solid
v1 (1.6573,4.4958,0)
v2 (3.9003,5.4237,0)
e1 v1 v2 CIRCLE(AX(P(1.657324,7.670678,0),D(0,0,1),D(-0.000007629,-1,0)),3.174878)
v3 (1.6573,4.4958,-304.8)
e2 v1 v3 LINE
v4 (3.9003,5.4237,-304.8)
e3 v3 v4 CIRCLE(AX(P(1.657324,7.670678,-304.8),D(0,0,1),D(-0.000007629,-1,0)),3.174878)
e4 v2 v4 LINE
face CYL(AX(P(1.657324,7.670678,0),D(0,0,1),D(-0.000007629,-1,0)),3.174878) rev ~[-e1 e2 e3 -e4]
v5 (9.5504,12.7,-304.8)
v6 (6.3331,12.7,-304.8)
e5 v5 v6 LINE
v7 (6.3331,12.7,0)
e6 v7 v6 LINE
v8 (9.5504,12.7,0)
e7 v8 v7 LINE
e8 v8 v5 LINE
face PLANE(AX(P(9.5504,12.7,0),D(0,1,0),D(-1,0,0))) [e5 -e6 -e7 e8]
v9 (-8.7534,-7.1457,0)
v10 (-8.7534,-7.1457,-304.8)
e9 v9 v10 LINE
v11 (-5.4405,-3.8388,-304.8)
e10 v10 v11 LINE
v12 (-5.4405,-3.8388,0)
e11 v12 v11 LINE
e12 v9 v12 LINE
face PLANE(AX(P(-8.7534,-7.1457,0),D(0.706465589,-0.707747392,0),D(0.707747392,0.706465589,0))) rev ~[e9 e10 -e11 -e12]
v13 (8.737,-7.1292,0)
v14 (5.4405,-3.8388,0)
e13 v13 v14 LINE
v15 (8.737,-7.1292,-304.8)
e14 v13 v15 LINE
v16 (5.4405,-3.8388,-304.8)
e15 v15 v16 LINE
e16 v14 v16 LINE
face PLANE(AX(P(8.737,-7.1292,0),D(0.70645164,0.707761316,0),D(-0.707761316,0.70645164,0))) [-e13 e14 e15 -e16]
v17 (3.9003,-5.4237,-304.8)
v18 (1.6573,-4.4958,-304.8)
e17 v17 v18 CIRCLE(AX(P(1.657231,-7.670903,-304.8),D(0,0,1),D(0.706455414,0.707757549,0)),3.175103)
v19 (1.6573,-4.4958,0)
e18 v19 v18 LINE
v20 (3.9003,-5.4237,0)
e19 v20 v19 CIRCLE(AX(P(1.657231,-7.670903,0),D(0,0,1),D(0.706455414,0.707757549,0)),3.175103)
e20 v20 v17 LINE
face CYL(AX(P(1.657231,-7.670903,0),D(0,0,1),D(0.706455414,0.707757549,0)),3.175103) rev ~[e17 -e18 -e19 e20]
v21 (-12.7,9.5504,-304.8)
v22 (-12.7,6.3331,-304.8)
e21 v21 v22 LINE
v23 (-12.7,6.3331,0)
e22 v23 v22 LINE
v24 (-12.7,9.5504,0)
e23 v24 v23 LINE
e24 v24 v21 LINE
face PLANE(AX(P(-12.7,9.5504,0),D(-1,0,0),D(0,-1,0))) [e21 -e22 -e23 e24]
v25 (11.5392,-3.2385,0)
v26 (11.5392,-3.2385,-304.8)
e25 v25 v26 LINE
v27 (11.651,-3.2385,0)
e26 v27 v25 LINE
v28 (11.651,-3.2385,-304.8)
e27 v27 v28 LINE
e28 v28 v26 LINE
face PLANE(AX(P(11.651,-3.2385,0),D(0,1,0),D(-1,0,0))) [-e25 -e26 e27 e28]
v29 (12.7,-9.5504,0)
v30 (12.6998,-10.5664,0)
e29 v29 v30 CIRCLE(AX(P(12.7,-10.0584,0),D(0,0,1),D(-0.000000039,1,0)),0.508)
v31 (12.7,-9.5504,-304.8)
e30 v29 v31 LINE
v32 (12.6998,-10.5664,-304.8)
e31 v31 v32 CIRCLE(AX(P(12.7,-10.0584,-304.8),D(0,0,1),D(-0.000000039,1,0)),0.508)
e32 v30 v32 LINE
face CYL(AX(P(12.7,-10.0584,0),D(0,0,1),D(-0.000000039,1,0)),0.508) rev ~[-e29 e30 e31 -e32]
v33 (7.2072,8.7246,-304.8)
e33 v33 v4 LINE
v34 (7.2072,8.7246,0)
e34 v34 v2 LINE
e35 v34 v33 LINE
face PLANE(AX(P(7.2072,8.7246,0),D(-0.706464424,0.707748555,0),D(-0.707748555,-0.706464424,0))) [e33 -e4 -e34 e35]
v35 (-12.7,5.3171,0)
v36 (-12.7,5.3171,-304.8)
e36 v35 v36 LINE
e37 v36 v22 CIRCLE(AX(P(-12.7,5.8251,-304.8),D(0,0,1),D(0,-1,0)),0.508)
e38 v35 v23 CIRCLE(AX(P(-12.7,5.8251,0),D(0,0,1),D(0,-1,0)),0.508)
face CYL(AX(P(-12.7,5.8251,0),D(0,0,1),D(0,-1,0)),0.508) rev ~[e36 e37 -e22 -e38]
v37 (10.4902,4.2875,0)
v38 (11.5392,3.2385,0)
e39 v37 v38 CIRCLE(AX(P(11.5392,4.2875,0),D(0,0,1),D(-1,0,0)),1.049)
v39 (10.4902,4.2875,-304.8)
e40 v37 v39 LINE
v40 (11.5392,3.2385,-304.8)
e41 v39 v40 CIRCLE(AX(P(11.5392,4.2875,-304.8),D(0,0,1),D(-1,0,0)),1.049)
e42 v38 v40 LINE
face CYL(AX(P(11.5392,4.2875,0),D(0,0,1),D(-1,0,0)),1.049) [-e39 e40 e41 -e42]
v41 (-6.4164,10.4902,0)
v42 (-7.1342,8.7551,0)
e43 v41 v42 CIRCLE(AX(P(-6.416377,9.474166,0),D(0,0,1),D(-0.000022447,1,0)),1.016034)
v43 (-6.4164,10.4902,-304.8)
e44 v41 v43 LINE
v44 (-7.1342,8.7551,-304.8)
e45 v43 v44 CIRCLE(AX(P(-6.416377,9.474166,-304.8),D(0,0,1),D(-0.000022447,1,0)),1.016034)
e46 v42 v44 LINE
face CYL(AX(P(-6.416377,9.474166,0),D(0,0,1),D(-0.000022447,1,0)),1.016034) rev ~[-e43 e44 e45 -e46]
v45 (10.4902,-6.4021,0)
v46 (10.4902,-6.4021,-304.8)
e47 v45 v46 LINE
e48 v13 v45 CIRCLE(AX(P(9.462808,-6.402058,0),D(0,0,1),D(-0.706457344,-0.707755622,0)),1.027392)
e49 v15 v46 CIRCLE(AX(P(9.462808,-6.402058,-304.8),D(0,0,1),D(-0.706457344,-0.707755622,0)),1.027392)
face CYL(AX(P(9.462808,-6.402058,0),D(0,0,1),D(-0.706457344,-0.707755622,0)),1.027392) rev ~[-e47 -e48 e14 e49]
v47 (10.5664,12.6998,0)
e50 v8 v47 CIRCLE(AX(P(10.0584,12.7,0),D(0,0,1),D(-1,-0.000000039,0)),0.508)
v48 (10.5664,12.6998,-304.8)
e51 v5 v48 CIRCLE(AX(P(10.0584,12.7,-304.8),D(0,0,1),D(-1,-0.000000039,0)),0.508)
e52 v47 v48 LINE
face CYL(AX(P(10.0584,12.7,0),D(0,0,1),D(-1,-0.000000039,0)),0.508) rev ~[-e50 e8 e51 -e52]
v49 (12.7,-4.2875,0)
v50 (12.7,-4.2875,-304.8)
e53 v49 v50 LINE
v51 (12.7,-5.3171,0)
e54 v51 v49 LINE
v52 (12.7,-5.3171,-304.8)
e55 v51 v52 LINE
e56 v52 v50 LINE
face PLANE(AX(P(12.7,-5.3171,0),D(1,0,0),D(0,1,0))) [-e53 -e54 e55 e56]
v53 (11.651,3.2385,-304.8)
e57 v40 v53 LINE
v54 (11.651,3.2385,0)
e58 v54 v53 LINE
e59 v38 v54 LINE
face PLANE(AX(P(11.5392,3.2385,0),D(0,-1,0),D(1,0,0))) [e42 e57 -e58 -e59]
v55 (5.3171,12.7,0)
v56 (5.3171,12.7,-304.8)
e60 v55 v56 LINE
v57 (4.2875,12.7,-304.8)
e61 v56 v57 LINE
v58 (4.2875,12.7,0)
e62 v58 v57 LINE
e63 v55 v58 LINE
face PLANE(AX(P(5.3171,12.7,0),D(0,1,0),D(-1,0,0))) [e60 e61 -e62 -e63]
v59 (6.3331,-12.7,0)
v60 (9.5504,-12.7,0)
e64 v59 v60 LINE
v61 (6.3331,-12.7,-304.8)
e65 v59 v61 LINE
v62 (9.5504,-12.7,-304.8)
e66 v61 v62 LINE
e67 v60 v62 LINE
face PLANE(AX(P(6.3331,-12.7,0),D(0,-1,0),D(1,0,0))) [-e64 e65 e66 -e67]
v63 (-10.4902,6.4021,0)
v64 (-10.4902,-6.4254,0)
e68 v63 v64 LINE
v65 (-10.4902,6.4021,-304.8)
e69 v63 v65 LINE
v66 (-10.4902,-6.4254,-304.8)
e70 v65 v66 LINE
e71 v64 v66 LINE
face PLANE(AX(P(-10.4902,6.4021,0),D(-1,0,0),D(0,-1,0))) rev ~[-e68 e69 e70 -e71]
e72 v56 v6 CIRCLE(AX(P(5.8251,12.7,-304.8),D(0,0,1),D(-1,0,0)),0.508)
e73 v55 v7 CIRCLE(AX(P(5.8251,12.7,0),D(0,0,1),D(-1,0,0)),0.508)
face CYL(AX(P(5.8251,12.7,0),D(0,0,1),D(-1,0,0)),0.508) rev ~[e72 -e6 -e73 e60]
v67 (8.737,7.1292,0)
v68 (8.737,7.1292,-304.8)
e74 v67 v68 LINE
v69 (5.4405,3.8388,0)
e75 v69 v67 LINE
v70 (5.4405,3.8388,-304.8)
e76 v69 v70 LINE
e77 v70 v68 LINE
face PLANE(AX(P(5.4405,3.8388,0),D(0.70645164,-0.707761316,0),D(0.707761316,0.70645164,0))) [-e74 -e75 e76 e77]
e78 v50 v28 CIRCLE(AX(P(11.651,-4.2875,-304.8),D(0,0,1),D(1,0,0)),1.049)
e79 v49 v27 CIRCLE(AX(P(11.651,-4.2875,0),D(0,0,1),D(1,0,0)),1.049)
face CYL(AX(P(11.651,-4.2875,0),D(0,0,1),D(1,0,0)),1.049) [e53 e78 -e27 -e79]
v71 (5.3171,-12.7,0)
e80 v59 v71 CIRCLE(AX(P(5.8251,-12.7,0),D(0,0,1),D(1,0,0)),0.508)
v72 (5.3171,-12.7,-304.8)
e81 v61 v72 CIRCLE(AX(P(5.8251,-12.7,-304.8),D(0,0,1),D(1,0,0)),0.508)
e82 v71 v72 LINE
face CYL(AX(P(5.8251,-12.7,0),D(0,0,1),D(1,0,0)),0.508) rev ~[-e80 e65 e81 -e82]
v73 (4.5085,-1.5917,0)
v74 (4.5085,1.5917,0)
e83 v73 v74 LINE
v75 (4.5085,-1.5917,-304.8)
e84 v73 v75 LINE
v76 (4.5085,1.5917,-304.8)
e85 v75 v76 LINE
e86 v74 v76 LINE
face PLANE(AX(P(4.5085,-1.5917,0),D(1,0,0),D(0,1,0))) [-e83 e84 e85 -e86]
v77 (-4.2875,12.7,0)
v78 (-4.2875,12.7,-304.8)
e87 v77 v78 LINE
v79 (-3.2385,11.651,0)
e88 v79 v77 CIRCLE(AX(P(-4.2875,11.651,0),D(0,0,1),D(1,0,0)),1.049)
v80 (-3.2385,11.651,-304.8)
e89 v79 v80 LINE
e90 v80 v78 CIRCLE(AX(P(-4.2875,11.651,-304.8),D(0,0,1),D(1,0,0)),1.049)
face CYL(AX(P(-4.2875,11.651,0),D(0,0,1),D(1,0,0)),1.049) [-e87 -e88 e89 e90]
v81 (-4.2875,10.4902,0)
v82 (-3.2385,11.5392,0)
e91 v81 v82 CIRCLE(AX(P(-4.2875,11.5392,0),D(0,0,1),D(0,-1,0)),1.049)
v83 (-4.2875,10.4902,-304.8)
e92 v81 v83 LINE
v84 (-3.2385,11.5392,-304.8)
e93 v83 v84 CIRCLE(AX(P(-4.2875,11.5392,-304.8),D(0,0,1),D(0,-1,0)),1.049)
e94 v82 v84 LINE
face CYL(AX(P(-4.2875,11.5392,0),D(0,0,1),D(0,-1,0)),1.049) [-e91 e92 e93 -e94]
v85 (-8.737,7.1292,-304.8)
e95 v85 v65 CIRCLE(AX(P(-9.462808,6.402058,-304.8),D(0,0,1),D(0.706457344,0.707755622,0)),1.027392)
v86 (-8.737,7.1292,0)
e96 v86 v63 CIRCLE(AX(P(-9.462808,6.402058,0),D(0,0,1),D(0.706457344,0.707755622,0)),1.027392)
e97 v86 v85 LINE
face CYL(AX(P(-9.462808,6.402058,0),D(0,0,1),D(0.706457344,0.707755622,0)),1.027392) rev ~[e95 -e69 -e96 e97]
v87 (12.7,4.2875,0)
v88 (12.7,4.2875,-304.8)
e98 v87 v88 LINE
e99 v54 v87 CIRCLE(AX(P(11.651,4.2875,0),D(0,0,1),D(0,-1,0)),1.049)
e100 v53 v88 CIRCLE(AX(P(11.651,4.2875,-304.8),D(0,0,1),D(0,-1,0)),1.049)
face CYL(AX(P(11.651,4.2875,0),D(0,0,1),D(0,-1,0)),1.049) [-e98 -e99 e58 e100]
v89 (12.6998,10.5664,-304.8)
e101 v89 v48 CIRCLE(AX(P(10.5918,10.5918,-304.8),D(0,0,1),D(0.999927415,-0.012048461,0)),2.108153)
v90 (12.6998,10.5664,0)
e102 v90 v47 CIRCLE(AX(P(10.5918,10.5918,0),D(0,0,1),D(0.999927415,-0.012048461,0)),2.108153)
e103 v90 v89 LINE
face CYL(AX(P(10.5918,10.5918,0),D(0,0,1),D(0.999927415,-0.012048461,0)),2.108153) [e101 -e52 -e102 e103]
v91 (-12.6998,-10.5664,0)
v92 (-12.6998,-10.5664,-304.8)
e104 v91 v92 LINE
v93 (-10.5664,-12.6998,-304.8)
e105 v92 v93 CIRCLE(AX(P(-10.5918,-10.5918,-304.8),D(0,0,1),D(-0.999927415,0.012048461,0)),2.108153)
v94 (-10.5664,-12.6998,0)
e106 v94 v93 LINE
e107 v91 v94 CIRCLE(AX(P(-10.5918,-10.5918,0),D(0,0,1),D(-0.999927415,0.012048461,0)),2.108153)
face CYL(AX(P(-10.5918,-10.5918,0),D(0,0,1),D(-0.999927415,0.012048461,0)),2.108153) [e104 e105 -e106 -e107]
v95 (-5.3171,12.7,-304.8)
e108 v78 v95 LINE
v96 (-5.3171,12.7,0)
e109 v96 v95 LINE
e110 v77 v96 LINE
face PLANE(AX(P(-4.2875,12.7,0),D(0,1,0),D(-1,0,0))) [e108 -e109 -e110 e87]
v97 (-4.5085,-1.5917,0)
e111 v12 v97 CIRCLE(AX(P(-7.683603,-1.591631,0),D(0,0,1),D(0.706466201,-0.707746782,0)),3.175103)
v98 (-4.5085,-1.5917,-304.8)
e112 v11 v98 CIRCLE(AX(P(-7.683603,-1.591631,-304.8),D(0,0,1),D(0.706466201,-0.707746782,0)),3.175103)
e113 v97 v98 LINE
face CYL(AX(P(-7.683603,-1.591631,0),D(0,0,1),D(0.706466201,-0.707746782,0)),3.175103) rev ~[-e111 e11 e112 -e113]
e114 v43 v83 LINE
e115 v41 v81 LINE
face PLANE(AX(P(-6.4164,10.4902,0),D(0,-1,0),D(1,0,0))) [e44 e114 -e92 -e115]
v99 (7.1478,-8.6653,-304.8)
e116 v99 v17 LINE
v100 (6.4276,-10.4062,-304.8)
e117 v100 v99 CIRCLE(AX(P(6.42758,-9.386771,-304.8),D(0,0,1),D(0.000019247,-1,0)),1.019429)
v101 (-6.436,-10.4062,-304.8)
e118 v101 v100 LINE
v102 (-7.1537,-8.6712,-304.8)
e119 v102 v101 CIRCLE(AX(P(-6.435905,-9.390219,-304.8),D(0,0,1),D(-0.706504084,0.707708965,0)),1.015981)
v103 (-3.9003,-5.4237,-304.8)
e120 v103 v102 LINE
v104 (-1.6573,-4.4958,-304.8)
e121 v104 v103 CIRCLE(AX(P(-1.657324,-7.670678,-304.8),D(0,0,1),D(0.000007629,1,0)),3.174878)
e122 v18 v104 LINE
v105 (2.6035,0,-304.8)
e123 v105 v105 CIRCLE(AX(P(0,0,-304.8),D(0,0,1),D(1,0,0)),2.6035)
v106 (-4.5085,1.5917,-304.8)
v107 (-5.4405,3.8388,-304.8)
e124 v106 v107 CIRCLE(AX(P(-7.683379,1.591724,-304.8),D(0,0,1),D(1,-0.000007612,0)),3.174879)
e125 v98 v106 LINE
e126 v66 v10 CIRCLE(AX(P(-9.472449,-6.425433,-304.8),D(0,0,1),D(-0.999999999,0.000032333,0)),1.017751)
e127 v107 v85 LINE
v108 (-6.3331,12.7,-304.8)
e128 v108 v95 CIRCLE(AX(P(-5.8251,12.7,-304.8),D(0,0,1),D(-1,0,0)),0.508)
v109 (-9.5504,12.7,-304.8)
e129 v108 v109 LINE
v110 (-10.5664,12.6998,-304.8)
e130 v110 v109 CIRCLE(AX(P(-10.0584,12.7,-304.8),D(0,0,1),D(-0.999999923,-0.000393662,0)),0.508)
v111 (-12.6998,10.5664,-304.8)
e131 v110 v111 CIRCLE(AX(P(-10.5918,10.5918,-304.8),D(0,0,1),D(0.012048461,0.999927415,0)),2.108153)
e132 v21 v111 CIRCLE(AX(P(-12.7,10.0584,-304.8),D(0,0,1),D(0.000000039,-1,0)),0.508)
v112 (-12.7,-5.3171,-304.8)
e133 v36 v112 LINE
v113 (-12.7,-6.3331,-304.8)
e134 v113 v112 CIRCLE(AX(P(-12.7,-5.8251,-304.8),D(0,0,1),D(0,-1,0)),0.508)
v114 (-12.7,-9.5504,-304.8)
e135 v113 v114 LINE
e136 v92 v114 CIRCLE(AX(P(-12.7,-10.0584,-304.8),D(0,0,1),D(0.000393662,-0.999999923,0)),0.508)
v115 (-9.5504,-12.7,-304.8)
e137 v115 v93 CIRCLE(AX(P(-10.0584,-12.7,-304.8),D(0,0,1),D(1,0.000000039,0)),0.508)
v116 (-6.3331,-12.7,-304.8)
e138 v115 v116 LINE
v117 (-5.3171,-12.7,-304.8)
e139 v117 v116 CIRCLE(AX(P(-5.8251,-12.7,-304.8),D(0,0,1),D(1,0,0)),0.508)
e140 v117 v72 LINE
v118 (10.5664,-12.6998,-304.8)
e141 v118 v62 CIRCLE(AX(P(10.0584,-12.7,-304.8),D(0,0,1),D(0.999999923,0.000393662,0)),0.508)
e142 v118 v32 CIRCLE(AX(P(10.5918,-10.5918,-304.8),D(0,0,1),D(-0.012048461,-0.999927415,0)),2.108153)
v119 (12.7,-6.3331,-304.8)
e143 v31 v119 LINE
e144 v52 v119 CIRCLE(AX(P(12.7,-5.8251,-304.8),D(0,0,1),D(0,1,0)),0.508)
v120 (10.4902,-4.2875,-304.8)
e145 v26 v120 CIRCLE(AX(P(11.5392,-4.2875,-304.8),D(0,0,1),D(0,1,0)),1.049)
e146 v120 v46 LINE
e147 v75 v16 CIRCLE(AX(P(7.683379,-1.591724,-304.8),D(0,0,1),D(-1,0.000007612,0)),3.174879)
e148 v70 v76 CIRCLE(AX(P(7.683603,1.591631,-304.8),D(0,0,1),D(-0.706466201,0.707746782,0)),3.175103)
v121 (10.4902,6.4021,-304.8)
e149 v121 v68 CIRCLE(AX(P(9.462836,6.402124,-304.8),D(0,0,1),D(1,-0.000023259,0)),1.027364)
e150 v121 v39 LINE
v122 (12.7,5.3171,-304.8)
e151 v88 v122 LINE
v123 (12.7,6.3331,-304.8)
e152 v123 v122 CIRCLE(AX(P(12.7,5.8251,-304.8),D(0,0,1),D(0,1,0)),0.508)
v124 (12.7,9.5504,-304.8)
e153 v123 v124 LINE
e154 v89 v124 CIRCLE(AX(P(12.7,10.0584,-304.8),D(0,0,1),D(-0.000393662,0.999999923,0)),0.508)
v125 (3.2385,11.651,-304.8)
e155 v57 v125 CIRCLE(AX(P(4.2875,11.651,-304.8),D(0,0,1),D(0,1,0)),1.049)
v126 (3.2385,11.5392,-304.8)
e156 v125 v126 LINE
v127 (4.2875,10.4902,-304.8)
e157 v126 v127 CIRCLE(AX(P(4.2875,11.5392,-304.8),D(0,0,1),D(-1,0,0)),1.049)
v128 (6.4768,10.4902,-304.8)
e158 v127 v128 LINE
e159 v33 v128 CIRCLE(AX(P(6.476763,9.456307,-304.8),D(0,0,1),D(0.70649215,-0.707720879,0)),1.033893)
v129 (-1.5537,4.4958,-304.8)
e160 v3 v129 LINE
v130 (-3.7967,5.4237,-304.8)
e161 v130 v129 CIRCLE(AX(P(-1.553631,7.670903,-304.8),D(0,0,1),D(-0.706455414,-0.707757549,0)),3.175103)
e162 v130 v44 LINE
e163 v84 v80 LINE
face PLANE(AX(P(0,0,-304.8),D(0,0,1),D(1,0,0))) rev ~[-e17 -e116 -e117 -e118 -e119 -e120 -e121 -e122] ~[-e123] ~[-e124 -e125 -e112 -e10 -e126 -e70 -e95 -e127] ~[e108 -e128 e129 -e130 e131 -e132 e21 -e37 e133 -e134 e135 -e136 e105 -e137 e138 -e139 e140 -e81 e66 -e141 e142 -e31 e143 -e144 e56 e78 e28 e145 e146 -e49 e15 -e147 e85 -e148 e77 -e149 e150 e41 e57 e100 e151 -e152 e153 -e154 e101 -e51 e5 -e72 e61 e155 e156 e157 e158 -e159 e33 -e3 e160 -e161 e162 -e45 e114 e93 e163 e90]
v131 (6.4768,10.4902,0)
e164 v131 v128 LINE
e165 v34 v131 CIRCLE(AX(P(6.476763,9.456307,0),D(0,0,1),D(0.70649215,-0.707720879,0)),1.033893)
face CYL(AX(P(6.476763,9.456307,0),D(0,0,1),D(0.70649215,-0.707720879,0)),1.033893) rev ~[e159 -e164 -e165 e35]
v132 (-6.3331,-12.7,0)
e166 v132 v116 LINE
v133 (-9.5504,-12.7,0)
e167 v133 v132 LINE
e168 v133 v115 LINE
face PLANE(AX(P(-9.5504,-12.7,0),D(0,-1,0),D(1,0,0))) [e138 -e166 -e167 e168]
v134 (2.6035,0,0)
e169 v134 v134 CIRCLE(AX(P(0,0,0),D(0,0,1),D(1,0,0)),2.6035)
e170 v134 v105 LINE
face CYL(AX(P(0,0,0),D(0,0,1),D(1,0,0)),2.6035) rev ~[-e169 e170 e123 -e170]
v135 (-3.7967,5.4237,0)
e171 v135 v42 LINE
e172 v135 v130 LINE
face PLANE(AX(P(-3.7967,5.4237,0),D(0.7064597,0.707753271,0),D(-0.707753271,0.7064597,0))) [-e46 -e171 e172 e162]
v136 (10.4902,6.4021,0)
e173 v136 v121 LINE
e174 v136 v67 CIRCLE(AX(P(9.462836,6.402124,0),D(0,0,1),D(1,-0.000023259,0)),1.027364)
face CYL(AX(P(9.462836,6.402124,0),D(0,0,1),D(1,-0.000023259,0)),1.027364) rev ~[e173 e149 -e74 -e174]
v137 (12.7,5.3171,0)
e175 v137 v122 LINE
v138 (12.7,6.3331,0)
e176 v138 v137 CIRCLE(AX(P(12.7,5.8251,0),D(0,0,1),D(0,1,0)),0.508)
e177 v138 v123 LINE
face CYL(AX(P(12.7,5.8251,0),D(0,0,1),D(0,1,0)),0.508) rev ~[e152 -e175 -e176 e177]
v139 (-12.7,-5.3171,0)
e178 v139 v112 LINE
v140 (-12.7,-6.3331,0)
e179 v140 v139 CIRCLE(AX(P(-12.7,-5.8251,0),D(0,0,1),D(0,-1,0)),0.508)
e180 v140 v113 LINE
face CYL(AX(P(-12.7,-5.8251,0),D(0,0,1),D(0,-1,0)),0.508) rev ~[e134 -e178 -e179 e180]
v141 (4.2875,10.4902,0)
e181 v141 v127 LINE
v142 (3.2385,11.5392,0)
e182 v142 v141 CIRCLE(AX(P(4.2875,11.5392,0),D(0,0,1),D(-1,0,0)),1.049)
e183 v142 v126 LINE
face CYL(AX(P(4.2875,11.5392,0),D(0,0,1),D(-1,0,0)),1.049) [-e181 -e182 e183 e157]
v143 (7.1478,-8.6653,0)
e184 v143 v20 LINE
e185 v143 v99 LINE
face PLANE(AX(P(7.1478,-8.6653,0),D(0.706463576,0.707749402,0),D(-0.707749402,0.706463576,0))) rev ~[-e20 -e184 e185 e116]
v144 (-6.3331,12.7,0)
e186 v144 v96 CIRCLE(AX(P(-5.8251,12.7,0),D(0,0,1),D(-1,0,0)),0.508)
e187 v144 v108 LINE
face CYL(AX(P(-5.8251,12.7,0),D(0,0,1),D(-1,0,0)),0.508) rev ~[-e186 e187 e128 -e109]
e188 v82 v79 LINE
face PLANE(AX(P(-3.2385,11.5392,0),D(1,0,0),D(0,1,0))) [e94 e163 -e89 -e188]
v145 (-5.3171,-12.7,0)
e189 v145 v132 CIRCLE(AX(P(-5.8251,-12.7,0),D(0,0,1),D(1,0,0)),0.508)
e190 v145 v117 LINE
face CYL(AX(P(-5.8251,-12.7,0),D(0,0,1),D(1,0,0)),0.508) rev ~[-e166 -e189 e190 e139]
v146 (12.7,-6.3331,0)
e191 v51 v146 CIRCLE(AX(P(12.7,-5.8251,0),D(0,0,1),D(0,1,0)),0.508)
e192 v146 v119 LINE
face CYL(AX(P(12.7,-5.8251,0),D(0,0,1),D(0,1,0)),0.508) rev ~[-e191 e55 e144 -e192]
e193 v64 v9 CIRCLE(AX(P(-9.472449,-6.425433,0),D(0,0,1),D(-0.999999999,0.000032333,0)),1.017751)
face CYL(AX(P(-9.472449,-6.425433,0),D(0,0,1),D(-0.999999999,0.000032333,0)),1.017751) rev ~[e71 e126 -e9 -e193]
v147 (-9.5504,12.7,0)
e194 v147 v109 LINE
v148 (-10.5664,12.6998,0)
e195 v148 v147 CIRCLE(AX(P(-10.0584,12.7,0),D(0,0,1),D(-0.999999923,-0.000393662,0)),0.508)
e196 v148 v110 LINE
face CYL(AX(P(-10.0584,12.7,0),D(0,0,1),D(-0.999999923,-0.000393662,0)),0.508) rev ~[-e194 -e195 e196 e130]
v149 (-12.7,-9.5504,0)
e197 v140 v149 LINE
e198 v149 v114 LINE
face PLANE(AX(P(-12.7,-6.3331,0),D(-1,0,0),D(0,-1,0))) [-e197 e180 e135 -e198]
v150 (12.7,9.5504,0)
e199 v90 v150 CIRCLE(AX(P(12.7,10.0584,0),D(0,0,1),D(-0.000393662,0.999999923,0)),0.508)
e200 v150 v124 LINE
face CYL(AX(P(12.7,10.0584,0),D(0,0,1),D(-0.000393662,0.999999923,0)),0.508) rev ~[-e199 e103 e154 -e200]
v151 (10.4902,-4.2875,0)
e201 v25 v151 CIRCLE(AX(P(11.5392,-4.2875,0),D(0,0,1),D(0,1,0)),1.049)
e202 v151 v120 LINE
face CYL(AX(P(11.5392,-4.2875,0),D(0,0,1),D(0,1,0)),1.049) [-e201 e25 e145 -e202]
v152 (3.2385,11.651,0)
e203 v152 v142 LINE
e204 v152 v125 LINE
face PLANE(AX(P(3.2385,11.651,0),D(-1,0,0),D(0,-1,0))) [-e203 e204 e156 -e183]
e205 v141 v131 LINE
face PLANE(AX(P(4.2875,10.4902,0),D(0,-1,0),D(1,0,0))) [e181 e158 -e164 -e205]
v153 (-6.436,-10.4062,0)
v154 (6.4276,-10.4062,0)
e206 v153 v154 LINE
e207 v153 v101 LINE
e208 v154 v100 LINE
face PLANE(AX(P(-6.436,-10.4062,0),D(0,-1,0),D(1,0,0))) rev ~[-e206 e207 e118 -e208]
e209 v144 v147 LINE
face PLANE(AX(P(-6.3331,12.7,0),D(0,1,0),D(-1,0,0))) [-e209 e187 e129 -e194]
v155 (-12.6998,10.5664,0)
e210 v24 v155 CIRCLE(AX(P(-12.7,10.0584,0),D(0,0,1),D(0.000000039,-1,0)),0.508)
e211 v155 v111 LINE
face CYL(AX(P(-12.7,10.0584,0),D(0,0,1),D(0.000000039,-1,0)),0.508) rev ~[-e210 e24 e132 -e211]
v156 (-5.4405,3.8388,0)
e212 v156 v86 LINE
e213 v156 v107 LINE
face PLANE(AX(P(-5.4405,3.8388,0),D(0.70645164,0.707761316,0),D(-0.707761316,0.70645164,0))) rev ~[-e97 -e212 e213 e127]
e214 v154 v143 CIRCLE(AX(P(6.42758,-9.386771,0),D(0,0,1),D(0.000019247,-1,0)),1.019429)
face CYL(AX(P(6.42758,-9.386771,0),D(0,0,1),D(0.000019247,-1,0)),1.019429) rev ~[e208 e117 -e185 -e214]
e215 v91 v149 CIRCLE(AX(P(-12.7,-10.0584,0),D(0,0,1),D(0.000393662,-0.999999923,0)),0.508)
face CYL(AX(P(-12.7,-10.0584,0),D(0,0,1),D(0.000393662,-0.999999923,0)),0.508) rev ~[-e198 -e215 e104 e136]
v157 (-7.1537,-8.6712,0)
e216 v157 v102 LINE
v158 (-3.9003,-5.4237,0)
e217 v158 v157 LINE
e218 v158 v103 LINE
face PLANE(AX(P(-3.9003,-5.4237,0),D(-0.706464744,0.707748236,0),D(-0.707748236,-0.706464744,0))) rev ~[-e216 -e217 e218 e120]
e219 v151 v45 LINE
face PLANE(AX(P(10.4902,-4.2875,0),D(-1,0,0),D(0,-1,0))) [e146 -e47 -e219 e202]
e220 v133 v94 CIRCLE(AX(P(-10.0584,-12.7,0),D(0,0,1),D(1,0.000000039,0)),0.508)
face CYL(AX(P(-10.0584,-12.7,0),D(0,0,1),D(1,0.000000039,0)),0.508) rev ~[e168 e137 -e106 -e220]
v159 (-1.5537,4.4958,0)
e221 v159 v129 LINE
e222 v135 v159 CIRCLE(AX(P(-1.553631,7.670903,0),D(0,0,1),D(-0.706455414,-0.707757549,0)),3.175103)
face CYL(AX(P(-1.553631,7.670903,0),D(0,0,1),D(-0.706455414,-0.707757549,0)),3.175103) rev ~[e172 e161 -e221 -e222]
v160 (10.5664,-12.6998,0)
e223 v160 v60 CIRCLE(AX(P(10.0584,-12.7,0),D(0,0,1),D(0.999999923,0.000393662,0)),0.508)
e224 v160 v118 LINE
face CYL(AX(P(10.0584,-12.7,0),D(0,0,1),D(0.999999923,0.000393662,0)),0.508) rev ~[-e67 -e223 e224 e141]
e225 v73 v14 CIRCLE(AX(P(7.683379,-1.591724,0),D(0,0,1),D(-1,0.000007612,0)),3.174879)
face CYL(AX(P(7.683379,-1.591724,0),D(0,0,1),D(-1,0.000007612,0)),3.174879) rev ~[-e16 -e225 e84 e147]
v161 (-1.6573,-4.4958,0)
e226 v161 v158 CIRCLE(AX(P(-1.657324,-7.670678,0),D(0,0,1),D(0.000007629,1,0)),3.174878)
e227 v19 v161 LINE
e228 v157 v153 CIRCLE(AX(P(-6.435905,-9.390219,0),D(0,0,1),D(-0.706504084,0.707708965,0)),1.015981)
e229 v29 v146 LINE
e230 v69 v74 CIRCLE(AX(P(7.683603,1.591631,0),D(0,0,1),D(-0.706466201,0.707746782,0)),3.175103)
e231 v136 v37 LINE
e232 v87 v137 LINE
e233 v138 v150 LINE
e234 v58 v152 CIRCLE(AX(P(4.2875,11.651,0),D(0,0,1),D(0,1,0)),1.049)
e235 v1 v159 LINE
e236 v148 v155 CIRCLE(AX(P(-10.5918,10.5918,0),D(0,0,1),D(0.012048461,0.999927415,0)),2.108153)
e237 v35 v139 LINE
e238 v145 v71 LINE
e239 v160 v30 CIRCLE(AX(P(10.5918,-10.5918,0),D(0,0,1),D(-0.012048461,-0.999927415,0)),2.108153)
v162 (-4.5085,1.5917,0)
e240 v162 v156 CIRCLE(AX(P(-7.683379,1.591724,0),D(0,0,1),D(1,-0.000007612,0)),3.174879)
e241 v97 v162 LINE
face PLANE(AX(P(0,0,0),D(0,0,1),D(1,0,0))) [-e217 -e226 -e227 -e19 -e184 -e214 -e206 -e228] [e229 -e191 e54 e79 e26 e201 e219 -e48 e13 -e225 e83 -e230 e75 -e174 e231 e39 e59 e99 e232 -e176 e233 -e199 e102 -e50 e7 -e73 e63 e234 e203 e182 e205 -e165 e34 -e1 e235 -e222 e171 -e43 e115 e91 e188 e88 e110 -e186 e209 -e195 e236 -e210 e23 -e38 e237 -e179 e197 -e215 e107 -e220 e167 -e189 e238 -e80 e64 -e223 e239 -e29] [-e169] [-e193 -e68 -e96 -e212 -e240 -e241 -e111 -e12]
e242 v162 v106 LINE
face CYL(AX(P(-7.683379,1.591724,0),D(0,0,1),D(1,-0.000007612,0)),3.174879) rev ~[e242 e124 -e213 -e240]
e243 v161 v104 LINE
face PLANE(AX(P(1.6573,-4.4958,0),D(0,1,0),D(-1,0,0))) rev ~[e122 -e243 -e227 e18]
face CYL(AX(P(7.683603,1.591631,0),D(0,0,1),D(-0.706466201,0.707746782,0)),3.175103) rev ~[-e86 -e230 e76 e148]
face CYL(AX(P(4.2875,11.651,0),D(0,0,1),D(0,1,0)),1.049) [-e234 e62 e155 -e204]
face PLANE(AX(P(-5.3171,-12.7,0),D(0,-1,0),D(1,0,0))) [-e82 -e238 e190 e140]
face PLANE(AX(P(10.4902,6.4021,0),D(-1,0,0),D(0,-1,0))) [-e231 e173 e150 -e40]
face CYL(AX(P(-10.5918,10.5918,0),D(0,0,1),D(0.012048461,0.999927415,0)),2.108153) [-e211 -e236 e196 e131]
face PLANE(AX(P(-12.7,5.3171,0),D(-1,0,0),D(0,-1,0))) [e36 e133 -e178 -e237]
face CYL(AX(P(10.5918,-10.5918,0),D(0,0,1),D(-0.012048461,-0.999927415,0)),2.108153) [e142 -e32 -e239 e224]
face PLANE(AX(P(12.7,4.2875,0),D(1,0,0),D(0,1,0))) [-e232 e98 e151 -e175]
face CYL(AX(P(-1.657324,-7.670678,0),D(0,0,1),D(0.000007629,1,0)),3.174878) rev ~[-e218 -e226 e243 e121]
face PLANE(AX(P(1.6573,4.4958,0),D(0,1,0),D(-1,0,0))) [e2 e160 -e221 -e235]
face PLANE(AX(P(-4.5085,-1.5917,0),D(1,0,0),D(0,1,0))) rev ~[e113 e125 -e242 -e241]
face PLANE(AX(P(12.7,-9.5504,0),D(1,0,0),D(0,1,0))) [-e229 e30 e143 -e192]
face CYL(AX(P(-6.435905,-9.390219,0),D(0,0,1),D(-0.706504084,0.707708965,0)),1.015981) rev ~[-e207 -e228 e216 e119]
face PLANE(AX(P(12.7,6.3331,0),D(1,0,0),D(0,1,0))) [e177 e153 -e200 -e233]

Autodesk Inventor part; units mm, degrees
ref_plane "YZ Plane" through (0, 0, 0) normal (1, 0, 0) x (0, 1, 0)
ref_plane "XZ Plane" through (0, 0, 0) normal (0, 1, 0) x (-1, 0, 0)
ref_plane "XY Plane" through (0, 0, 0) normal (0, 0, 1) x (1, 0, 0)
sketch "Sketch1" plane through (0, 0, 0) normal (0, 0, 1) x (1, 0, 0)
  circle A0 centre (0, 0) radius 2.6035
  arc A1 (-8.737, 7.1292) -> (-10.4902, 6.4021) centre (-9.4628, 6.4021) ccw
  line L0 (-5.4405, 3.8388) -> (-8.737, 7.1292)
  arc A2 (-4.5085, 1.5917) -> (-5.4405, 3.8388) centre (-7.6835, 1.5917) ccw
  line L1 (-4.5085, -1.5917) -> (-4.5085, 1.5917)
  arc A3 (-5.4405, -3.8388) -> (-4.5085, -1.5917) centre (-7.6835, -1.5917) ccw
  line L2 (-8.7534, -7.1457) -> (-5.4405, -3.8388)
  arc A4 (-10.4902, -6.4254) -> (-8.7534, -7.1457) centre (-9.4724, -6.4254) ccw
  line L3 (-10.4902, 6.4021) -> (-10.4902, -6.4254)
  arc A5 (-7.1537, -8.6712) -> (-6.436, -10.4062) centre (-6.436, -9.3902) ccw
  line L4 (-3.9003, -5.4237) -> (-7.1537, -8.6712)
  arc A6 (-1.6573, -4.4958) -> (-3.9003, -5.4237) centre (-1.6573, -7.6708) ccw
  line L5 (1.6573, -4.4958) -> (-1.6573, -4.4958)
  arc A7 (3.9003, -5.4237) -> (1.6573, -4.4958) centre (1.6573, -7.6708) ccw
  line L6 (7.1478, -8.6653) -> (3.9003, -5.4237)
  arc A8 (6.4276, -10.4062) -> (7.1478, -8.6653) centre (6.4276, -9.3868) ccw
  line L7 (-6.436, -10.4062) -> (6.4276, -10.4062)
  arc A9 (6.3331, -12.7) -> (5.3171, -12.7) centre (5.8251, -12.7) ccw
  line L8 (6.3331, -12.7) -> (9.5504, -12.7)
  arc A10 (10.5664, -12.6998) -> (9.5504, -12.7) centre (10.0584, -12.7) ccw
  arc A11 (10.5664, -12.6998) -> (12.6998, -10.5664) centre (10.5918, -10.5918) ccw
  arc A12 (12.7, -9.5504) -> (12.6998, -10.5664) centre (12.7, -10.0584) ccw
  line L9 (12.7, -9.5504) -> (12.7, -6.3331)
  arc A13 (12.7, -5.3171) -> (12.7, -6.3331) centre (12.7, -5.8251) ccw
  line L10 (12.7, -5.3171) -> (12.7, -4.2875)
  arc A14 (12.7, -4.2875) -> (11.651, -3.2385) centre (11.651, -4.2875) ccw
  line L11 (11.651, -3.2385) -> (11.5392, -3.2385)
  arc A15 (11.5392, -3.2385) -> (10.4902, -4.2875) centre (11.5392, -4.2875) ccw
  line L12 (10.4902, -4.2875) -> (10.4902, -6.4021)
  arc A16 (8.737, -7.1292) -> (10.4902, -6.4021) centre (9.4628, -6.4021) ccw
  line L13 (8.737, -7.1292) -> (5.4405, -3.8388)
  arc A17 (4.5085, -1.5917) -> (5.4405, -3.8388) centre (7.6835, -1.5917) ccw
  line L14 (4.5085, -1.5917) -> (4.5085, 1.5917)
  arc A18 (5.4405, 3.8388) -> (4.5085, 1.5917) centre (7.6835, 1.5917) ccw
  line L15 (5.4405, 3.8388) -> (8.737, 7.1292)
  arc A19 (10.4902, 6.4021) -> (8.737, 7.1292) centre (9.4628, 6.4021) ccw
  line L16 (10.4902, 6.4021) -> (10.4902, 4.2875)
  arc A20 (10.4902, 4.2875) -> (11.5392, 3.2385) centre (11.5392, 4.2875) ccw
  line L17 (11.5392, 3.2385) -> (11.651, 3.2385)
  arc A21 (11.651, 3.2385) -> (12.7, 4.2875) centre (11.651, 4.2875) ccw
  line L18 (12.7, 4.2875) -> (12.7, 5.3171)
  arc A22 (12.7, 6.3331) -> (12.7, 5.3171) centre (12.7, 5.8251) ccw
  line L19 (12.7, 6.3331) -> (12.7, 9.5504)
  arc A23 (12.6998, 10.5664) -> (12.7, 9.5504) centre (12.7, 10.0584) ccw
  arc A24 (12.6998, 10.5664) -> (10.5664, 12.6998) centre (10.5918, 10.5918) ccw
  arc A25 (9.5504, 12.7) -> (10.5664, 12.6998) centre (10.0584, 12.7) ccw
  line L20 (9.5504, 12.7) -> (6.3331, 12.7)
  arc A26 (5.3171, 12.7) -> (6.3331, 12.7) centre (5.8251, 12.7) ccw
  line L21 (5.3171, 12.7) -> (4.2875, 12.7)
  arc A27 (4.2875, 12.7) -> (3.2385, 11.651) centre (4.2875, 11.651) ccw
  line L22 (3.2385, 11.651) -> (3.2385, 11.5392)
  arc A28 (3.2385, 11.5392) -> (4.2875, 10.4902) centre (4.2875, 11.5392) ccw
  line L23 (4.2875, 10.4902) -> (6.4768, 10.4902)
  arc A29 (7.2072, 8.7246) -> (6.4768, 10.4902) centre (6.4768, 9.4563) ccw
  line L24 (7.2072, 8.7246) -> (3.9003, 5.4237)
  arc A30 (1.6573, 4.4958) -> (3.9003, 5.4237) centre (1.6573, 7.6708) ccw
  line L25 (1.6573, 4.4958) -> (-1.5537, 4.4958)
  arc A31 (-3.7967, 5.4237) -> (-1.5537, 4.4958) centre (-1.5537, 7.6708) ccw
  line L26 (-3.7967, 5.4237) -> (-7.1342, 8.7551)
  arc A32 (-6.4164, 10.4902) -> (-7.1342, 8.7551) centre (-6.4164, 9.4742) ccw
  line L27 (-6.4164, 10.4902) -> (-4.2875, 10.4902)
  arc A33 (-4.2875, 10.4902) -> (-3.2385, 11.5392) centre (-4.2875, 11.5392) ccw
  line L28 (-3.2385, 11.5392) -> (-3.2385, 11.651)
  arc A34 (-3.2385, 11.651) -> (-4.2875, 12.7) centre (-4.2875, 11.651) ccw
  line L29 (-4.2875, 12.7) -> (-5.3171, 12.7)
  arc A35 (-6.3331, 12.7) -> (-5.3171, 12.7) centre (-5.8251, 12.7) ccw
  line L30 (-6.3331, 12.7) -> (-9.5504, 12.7)
  arc A36 (-10.5664, 12.6998) -> (-9.5504, 12.7) centre (-10.0584, 12.7) ccw
  arc A37 (-10.5664, 12.6998) -> (-12.6998, 10.5664) centre (-10.5918, 10.5918) ccw
  arc A38 (-12.7, 9.5504) -> (-12.6998, 10.5664) centre (-12.7, 10.0584) ccw
  line L31 (-12.7, 9.5504) -> (-12.7, 6.3331)
  arc A39 (-12.7, 5.3171) -> (-12.7, 6.3331) centre (-12.7, 5.8251) ccw
  line L32 (-12.7, 5.3171) -> (-12.7, -5.3171)
  arc A40 (-12.7, -6.3331) -> (-12.7, -5.3171) centre (-12.7, -5.8251) ccw
  line L33 (-12.7, -6.3331) -> (-12.7, -9.5504)
  arc A41 (-12.6998, -10.5664) -> (-12.7, -9.5504) centre (-12.7, -10.0584) ccw
  arc A42 (-12.6998, -10.5664) -> (-10.5664, -12.6998) centre (-10.5918, -10.5918) ccw
  arc A43 (-9.5504, -12.7) -> (-10.5664, -12.6998) centre (-10.0584, -12.7) ccw
  line L34 (-9.5504, -12.7) -> (-6.3331, -12.7)
  arc A44 (-5.3171, -12.7) -> (-6.3331, -12.7) centre (-5.8251, -12.7) ccw
  line L35 (-5.3171, -12.7) -> (5.3171, -12.7)
extrude "Extrusion1" add sketch "Sketch1" against normal blind 304.8
properties part number "1002"
